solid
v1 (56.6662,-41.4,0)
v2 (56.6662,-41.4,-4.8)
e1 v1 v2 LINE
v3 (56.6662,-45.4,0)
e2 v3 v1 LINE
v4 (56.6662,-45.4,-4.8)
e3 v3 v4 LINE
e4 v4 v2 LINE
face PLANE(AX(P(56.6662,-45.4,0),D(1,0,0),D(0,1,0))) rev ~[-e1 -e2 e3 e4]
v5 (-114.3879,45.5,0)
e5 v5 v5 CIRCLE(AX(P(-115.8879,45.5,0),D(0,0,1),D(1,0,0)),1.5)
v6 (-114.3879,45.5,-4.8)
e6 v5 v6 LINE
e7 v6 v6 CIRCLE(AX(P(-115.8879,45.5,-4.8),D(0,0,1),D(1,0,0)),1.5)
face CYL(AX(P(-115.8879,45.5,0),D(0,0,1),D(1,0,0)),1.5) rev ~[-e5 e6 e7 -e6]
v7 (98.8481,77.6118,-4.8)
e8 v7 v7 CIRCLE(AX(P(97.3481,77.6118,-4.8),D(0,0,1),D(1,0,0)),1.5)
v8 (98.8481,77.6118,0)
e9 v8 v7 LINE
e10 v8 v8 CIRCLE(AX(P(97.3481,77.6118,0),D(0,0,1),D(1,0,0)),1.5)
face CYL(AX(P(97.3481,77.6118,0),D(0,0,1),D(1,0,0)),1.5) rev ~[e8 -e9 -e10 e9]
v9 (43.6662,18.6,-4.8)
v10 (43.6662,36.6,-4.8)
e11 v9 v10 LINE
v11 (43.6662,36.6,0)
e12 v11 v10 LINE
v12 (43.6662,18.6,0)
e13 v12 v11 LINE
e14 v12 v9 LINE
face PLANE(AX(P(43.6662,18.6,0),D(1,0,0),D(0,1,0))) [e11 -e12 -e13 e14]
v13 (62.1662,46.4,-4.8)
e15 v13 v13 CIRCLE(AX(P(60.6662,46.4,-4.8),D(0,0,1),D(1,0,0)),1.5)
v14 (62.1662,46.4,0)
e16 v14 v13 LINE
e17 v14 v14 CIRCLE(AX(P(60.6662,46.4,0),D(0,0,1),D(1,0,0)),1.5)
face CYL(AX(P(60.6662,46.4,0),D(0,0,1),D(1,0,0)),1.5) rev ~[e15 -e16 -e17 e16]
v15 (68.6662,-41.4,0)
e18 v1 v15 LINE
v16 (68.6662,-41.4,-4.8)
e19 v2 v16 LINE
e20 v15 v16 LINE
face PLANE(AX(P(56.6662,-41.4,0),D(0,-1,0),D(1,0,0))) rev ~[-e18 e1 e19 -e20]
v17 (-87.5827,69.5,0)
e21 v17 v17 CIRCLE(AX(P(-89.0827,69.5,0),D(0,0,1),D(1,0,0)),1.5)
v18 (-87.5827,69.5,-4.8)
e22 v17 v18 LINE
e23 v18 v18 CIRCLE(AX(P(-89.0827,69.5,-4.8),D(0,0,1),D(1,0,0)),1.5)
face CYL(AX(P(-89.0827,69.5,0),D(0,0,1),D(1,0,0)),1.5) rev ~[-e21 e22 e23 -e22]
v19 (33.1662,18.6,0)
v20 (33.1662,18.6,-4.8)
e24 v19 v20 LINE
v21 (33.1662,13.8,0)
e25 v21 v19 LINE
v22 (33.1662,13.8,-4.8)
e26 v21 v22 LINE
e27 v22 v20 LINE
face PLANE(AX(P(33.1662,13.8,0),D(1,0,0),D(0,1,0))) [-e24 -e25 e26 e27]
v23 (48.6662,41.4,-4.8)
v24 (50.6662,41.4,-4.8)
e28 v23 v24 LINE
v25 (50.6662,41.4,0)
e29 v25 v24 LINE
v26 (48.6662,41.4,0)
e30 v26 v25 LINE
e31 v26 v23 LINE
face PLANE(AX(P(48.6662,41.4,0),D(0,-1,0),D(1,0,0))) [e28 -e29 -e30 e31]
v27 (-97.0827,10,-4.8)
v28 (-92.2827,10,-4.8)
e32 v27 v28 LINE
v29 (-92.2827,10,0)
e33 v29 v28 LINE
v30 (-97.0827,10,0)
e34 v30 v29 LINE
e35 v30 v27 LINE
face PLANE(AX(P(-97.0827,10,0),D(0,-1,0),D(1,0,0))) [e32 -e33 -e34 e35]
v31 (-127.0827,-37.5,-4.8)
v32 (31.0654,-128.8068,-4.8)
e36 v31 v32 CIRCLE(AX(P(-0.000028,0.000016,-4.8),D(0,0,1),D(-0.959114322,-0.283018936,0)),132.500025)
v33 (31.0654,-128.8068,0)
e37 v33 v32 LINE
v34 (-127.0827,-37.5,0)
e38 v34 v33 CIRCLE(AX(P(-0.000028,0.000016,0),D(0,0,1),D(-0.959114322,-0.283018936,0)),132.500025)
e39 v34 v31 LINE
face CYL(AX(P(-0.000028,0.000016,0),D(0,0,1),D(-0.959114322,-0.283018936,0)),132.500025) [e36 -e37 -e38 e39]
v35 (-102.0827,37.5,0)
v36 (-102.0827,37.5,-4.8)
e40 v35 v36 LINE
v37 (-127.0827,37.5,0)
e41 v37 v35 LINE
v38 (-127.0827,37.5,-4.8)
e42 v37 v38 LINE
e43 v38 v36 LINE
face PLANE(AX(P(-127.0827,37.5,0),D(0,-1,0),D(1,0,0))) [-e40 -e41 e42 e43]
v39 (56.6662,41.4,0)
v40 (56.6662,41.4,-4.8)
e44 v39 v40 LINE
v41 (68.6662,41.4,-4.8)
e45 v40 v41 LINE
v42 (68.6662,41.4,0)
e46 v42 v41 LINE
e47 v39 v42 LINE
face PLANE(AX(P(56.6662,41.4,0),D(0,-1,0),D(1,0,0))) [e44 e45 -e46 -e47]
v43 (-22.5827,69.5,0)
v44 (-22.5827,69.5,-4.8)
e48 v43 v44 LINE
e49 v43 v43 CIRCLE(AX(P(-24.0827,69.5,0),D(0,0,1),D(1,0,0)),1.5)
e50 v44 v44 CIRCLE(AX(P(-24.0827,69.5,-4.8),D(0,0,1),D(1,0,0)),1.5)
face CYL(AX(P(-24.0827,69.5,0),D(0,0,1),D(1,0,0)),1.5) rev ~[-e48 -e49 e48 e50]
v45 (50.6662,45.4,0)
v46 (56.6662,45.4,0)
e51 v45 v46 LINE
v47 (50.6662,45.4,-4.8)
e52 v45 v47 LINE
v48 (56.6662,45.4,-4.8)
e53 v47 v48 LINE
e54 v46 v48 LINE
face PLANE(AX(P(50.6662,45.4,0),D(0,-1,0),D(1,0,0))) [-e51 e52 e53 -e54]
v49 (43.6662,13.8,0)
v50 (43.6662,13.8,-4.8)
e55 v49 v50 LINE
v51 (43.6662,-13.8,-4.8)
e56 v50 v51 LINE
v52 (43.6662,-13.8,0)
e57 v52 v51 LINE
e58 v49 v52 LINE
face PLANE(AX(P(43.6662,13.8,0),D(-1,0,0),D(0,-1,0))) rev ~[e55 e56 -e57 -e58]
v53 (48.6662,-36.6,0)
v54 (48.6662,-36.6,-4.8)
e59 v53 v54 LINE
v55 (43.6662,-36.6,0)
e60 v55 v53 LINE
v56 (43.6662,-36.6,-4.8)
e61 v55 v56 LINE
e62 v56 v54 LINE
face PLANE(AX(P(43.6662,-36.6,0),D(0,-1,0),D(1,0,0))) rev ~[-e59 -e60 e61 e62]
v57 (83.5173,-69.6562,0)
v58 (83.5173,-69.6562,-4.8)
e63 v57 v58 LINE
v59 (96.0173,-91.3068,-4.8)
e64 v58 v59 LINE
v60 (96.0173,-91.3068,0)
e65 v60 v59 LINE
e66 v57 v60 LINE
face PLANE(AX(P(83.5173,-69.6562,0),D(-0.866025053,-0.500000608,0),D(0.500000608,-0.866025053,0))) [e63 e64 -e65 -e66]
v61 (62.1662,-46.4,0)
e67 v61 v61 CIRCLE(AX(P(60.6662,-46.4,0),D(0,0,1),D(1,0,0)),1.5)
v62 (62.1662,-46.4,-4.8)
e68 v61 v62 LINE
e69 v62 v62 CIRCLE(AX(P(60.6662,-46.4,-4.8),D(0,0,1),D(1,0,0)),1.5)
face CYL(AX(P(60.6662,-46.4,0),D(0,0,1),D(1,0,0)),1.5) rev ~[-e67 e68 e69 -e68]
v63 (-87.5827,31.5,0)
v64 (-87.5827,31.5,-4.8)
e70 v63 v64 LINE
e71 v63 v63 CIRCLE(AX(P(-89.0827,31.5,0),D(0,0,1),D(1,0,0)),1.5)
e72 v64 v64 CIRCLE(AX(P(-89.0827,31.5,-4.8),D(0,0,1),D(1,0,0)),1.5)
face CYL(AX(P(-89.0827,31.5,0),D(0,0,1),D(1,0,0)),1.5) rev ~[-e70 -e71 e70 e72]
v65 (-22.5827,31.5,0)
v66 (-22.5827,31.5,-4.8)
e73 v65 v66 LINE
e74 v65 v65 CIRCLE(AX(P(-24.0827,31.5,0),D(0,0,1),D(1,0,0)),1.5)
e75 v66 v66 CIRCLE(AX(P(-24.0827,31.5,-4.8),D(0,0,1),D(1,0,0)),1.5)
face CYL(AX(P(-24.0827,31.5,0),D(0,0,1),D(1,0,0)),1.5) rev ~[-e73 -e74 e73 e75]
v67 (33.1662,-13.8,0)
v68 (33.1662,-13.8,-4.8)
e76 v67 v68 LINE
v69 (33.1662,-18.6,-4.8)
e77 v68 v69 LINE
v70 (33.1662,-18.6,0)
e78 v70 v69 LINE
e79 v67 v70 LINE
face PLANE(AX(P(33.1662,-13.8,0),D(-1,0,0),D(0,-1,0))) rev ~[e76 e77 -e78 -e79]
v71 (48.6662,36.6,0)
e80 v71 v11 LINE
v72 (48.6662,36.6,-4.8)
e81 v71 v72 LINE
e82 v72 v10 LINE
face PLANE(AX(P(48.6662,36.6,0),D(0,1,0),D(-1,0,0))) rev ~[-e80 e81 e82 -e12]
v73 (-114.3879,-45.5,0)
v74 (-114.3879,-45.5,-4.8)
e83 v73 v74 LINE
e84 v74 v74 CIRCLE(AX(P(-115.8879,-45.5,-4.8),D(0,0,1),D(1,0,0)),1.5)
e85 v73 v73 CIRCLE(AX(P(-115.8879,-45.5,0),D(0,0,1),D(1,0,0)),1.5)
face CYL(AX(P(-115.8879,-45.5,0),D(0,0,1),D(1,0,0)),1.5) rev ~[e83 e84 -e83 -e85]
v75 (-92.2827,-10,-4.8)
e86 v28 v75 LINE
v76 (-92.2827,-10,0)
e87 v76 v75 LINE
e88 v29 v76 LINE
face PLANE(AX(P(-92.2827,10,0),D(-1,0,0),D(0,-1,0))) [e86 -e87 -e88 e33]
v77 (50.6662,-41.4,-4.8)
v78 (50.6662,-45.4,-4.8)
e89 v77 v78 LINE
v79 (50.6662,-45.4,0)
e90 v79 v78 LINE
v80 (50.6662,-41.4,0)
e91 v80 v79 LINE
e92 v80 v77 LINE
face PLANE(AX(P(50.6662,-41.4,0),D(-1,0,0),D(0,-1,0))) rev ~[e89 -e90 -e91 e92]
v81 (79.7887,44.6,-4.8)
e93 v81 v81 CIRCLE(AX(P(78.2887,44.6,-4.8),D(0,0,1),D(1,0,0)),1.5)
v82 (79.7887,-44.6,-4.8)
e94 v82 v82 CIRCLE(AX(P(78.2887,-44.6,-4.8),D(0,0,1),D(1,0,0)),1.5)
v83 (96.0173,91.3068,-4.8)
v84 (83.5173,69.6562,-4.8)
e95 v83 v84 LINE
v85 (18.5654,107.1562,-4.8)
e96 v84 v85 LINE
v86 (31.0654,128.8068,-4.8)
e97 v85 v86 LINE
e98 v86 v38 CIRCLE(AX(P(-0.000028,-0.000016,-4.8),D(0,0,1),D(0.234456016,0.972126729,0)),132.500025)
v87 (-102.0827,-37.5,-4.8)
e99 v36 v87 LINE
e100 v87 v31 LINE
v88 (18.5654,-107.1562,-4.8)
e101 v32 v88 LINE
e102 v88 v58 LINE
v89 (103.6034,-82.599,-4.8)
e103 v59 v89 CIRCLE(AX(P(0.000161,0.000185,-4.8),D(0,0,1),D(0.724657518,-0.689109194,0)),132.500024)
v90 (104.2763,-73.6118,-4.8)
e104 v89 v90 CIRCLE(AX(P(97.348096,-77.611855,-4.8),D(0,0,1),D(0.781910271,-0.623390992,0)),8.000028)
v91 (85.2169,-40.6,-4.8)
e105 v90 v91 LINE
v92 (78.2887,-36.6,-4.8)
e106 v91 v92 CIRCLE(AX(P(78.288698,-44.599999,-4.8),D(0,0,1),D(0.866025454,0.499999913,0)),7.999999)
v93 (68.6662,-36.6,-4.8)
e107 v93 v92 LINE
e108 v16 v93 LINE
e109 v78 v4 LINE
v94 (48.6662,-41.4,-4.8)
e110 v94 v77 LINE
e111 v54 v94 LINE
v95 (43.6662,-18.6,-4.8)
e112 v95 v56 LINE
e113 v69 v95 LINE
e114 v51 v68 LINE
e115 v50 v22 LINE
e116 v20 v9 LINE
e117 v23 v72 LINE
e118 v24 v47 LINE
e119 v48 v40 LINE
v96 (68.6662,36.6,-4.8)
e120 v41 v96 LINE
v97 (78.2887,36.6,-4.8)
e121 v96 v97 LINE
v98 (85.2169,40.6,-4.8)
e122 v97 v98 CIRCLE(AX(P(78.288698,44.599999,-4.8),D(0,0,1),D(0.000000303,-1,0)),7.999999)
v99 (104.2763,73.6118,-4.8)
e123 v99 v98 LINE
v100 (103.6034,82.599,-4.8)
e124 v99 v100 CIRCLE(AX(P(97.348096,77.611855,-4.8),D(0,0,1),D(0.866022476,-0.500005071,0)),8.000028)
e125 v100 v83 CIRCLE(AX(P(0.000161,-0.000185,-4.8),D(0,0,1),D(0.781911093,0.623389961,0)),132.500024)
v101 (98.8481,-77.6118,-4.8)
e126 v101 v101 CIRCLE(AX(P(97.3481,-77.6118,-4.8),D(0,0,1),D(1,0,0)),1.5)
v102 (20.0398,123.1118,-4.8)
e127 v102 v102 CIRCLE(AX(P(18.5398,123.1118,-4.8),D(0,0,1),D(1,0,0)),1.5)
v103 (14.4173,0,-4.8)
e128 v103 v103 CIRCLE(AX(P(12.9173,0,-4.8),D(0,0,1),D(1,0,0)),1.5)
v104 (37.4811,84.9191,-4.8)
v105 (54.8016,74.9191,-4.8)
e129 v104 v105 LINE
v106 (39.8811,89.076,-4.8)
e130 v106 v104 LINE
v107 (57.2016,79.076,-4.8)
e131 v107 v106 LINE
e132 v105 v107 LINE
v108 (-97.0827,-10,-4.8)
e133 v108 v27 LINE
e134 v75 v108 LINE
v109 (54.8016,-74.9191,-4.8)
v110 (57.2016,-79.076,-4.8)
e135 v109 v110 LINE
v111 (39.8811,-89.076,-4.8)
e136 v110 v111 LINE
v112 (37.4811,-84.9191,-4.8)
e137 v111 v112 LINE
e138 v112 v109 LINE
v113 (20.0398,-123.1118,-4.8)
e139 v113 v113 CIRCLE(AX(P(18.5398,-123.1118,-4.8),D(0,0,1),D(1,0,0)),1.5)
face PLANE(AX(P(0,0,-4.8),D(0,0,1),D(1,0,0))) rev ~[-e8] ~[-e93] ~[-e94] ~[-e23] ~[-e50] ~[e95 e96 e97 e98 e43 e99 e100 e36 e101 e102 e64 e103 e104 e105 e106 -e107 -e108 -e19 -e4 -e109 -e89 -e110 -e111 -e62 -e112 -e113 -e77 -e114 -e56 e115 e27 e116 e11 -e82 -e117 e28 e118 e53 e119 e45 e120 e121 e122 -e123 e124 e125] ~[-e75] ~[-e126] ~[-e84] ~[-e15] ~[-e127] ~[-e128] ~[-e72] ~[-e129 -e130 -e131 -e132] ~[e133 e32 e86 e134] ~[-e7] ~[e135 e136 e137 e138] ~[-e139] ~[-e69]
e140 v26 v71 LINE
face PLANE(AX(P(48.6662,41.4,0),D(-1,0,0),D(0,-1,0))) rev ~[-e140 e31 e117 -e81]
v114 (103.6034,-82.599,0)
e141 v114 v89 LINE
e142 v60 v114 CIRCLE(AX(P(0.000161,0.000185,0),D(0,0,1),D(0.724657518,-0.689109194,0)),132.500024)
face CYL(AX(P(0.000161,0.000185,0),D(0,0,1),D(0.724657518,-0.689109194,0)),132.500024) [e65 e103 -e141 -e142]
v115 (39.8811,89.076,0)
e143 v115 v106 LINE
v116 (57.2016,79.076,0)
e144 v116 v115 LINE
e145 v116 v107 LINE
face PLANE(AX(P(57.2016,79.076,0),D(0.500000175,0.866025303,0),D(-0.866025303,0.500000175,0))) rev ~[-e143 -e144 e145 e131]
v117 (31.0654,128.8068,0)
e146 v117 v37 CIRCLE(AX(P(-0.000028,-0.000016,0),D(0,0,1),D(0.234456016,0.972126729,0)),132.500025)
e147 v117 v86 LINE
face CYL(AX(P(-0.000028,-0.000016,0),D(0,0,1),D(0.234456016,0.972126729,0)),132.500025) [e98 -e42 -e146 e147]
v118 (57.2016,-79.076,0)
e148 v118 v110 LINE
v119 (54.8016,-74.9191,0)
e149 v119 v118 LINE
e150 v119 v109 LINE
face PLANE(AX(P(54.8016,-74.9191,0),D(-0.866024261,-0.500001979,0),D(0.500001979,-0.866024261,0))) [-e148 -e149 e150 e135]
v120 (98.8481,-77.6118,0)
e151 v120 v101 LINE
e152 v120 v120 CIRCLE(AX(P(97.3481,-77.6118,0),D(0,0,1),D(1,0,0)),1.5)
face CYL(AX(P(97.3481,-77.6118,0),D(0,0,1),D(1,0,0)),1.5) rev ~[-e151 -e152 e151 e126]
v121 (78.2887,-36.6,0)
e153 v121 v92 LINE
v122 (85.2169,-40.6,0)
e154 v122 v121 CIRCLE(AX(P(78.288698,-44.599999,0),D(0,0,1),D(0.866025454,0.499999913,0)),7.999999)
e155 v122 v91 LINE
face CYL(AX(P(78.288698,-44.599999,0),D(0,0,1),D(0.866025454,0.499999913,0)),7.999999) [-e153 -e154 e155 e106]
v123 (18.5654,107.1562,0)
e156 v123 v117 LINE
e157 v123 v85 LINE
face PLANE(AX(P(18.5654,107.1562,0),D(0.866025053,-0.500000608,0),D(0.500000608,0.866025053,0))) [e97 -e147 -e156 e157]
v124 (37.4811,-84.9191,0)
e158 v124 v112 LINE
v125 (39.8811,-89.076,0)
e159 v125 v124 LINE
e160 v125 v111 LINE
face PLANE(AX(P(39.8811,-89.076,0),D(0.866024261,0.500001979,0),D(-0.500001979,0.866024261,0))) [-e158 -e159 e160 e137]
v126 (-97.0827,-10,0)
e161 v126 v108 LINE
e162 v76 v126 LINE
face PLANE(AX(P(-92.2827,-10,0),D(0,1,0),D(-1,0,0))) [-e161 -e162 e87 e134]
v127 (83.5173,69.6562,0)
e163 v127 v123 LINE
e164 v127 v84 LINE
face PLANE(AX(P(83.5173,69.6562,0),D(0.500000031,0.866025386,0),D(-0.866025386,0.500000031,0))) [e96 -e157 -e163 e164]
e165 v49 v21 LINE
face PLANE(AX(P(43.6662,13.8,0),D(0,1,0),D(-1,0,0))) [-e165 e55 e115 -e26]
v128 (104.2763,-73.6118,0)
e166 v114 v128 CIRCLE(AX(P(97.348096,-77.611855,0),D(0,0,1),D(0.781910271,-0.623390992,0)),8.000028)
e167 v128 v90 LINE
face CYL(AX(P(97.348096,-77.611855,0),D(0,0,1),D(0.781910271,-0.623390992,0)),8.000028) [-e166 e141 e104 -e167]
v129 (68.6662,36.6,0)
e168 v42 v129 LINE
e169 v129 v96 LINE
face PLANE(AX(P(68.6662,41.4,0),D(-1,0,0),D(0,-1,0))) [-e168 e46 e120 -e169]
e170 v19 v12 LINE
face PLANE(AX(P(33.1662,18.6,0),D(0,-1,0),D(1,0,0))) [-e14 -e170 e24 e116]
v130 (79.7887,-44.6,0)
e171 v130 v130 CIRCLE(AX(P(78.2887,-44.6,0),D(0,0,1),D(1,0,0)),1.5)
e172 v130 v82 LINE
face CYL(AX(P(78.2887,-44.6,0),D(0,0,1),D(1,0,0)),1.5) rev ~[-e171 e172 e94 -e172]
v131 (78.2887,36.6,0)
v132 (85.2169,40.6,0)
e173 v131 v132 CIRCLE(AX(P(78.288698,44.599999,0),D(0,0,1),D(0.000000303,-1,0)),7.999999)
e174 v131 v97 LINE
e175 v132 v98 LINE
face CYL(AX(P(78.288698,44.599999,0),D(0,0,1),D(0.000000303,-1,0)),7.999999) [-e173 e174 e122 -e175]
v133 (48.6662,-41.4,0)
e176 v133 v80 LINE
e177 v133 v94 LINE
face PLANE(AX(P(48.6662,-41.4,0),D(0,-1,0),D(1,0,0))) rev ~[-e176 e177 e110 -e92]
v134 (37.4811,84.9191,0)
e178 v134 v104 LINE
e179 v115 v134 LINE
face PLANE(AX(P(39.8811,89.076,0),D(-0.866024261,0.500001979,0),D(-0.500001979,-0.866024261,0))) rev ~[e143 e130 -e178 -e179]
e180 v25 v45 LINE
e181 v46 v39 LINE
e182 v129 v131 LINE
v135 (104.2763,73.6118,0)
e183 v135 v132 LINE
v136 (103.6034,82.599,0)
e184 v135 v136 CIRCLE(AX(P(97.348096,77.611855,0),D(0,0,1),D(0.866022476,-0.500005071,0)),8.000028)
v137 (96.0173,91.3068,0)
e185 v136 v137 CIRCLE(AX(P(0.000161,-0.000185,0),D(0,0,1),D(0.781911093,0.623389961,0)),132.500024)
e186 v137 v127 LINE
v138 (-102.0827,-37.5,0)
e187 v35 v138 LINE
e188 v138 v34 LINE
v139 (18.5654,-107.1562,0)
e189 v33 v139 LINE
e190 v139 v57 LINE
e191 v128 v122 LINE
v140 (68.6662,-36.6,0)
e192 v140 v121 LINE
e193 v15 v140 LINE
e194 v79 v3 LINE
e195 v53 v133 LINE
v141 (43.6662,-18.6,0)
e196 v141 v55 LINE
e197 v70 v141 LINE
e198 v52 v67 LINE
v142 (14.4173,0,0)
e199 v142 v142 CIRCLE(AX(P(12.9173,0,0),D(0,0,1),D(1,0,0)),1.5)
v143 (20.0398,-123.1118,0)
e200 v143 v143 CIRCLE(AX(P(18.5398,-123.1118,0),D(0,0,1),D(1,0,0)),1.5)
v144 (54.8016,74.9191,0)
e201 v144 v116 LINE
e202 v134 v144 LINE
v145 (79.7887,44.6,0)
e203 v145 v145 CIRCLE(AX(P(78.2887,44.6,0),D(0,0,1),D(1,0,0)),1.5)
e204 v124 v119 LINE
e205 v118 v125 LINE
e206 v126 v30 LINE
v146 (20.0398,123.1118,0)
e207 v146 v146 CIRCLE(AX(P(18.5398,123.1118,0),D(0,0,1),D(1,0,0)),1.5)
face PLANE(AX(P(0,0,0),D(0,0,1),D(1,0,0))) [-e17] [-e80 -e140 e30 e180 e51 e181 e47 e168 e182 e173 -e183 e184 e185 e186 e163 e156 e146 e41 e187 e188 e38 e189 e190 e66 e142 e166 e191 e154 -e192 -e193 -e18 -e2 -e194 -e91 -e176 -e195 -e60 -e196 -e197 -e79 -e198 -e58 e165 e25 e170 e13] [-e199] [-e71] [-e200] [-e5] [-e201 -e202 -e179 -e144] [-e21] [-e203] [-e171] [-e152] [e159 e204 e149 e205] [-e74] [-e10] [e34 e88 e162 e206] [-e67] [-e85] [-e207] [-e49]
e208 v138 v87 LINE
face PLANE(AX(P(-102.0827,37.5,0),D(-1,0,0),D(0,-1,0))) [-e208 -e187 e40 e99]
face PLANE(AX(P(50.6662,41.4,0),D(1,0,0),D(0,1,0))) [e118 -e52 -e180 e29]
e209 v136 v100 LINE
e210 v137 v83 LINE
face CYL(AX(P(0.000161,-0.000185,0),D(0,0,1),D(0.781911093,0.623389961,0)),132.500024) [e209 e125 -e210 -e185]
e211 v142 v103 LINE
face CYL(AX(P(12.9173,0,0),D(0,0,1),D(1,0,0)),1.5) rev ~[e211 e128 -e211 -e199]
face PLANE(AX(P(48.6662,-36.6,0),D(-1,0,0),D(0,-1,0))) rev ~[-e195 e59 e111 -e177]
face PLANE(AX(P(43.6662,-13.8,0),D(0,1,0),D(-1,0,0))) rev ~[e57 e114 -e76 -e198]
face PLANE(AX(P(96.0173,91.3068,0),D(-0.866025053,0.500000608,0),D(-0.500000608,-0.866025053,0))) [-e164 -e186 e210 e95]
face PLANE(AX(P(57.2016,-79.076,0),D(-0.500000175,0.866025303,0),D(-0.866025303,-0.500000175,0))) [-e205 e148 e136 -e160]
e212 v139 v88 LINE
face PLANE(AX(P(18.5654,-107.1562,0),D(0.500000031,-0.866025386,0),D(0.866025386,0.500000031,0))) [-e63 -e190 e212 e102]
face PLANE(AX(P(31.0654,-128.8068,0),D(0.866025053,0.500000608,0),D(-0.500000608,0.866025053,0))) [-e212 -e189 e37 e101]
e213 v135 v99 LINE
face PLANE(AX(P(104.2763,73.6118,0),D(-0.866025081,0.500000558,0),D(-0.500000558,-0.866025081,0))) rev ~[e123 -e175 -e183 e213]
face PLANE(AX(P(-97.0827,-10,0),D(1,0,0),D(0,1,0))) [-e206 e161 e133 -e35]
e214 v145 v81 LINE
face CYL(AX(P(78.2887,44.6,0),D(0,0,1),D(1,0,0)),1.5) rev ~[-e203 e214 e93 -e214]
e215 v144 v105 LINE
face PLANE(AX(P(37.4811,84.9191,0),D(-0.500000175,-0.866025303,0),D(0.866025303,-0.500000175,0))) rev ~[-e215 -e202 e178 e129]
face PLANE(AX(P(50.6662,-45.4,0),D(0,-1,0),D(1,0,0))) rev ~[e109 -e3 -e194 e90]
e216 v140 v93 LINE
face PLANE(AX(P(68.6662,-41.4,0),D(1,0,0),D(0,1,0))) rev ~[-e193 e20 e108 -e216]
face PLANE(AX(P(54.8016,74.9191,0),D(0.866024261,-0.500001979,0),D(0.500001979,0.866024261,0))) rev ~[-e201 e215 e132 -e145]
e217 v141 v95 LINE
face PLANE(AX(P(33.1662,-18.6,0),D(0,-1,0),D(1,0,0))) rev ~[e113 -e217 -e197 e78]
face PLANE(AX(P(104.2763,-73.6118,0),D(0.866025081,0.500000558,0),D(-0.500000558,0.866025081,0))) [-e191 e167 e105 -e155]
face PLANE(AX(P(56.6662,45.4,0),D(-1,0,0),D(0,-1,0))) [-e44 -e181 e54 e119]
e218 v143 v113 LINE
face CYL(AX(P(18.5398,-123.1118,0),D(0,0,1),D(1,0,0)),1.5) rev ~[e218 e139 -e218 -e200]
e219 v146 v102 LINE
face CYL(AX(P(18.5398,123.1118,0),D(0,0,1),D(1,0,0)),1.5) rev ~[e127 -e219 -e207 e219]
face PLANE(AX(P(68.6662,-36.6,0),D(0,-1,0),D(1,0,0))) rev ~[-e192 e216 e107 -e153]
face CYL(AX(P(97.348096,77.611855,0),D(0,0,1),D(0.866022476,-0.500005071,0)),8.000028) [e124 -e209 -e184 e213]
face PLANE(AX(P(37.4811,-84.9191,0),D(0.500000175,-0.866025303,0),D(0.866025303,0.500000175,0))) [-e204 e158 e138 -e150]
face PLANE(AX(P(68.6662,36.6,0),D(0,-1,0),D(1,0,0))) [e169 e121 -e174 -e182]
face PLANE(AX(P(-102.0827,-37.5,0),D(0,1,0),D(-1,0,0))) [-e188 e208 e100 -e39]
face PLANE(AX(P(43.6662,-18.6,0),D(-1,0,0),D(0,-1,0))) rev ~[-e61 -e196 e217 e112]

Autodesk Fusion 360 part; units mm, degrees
sketch "Sketch1" plane through (0, 0, 0) normal (0, 0, 1) x (1, 0, 0)
  line L0 (-127.0827, 37.5) -> (-102.0827, 37.5)
  line L1 (-102.0827, 37.5) -> (-102.0827, -37.5)
  line L2 (-102.0827, -37.5) -> (-127.0827, -37.5)
  line L3 (0, 0) -> (-132.5, 0) construction
  line L4 (-97.0827, 10) -> (-92.2827, 10)
  line L5 (-92.2827, 10) -> (-92.2827, -10)
  line L6 (-92.2827, -10) -> (-97.0827, -10)
  line L7 (-97.0827, -10) -> (-97.0827, 10)
  arc A0 (-127.0827, 37.5) -> (-132.5, 0) centre (0, 0) ccw construction
  arc A1 (-132.5, 0) -> (-127.0827, -37.5) centre (0, 0) ccw construction
  line L8 (0, 0) -> (66.25, -114.7484) construction
  line L9 (0, 0) -> (66.25, -114.7484) construction
  line L10 (31.0654, -128.8068) -> (18.5654, -107.1562)
  line L11 (18.5654, -107.1562) -> (83.5173, -69.6562)
  line L12 (83.5173, -69.6562) -> (96.0173, -91.3068)
  arc A2 (-127.0827, -37.5) -> (31.0654, -128.8068) centre (0, 0) ccw
  arc A3 (31.0654, -128.8068) -> (66.25, -114.7484) centre (0, 0) ccw construction
  line L13 (37.4811, -84.9191) -> (54.8016, -74.9191)
  line L14 (54.8016, -74.9191) -> (57.2016, -79.076)
  line L15 (57.2016, -79.076) -> (39.8811, -89.076)
  line L16 (39.8811, -89.076) -> (37.4811, -84.9191)
  line L17 (0, 0) -> (132.5, 0) construction
  line L18 (0, 0) -> (66.25, 114.7484) construction
  line L19 (96.0173, 91.3068) -> (83.5173, 69.6562)
  line L20 (83.5173, 69.6562) -> (18.5654, 107.1562)
  line L21 (18.5654, 107.1562) -> (31.0654, 128.8068)
  line L22 (57.2016, 79.076) -> (39.8811, 89.076)
  line L23 (39.8811, 89.076) -> (37.4811, 84.9191)
  line L24 (37.4811, 84.9191) -> (54.8016, 74.9191)
  line L25 (54.8016, 74.9191) -> (57.2016, 79.076)
  circle A4 centre (-115.8879, 45.5) radius 1.5
  circle A5 centre (0, 0) radius 124.5 construction
  circle A6 centre (-115.8879, -45.5) radius 1.5
  circle A7 centre (18.5398, -123.1118) radius 1.5
  circle A8 centre (97.3481, -77.6118) radius 1.5
  circle A9 centre (18.5398, 123.1118) radius 1.5
  line L26 (-102.0827, -18.5) -> (-19.0827, -18.5) construction
  line L27 (-19.0827, -18.5) -> (-19.0827, 18.5) construction
  line L28 (-19.0827, 18.5) -> (-102.0827, 18.5) construction
  line L29 (35.0199, 97.6562) -> (-6.4801, 25.7761) construction
  line L30 (-6.4801, 25.7761) -> (25.5628, 7.2761) construction
  line L31 (25.5628, 7.2761) -> (67.0628, 79.1562) construction
  line L32 (35.0199, -97.6562) -> (-6.4801, -25.7761) construction
  line L33 (-6.4801, -25.7761) -> (25.5628, -7.2761) construction
  line L34 (25.5628, -7.2761) -> (67.0628, -79.1562) construction
  line L35 (-92.0827, 72.5) -> (-21.0827, 72.5) construction
  line L36 (-21.0827, 72.5) -> (-21.0827, 28.5) construction
  line L37 (-21.0827, 28.5) -> (-92.0827, 28.5) construction
  line L38 (-92.0827, 28.5) -> (-92.0827, 72.5) construction
  circle A10 centre (-24.0827, 69.5) radius 1.5
  circle A11 centre (-89.0827, 69.5) radius 1.5
  circle A12 centre (-89.0827, 31.5) radius 1.5
  circle A13 centre (-24.0827, 31.5) radius 1.5
  arc A14 (66.25, -114.7484) -> (96.0173, -91.3068) centre (0, 0) ccw construction
  arc A15 (96.0173, 91.3068) -> (66.25, 114.7484) centre (0, 0) ccw construction
  arc A16 (31.0654, 128.8068) -> (-127.0827, 37.5) centre (0, 0) ccw
  arc A17 (66.25, 114.7484) -> (31.0654, 128.8068) centre (0, 0) ccw construction
  line L39 (125.8662, 41.4) -> (43.6662, 41.4) construction
  line L40 (43.6662, 41.4) -> (43.6662, -41.4) construction
  line L41 (43.6662, -41.4) -> (125.8662, -41.4) construction
  line L42 (43.6662, 13.8) -> (33.1662, 13.8)
  line L43 (33.1662, 13.8) -> (33.1662, 18.6)
  line L44 (33.1662, 18.6) -> (43.6662, 18.6)
  line L45 (68.6662, 36.6) -> (78.2887, 36.6)
  circle A18 centre (97.3481, 77.6118) radius 1.5
  line L46 (104.2763, 73.6118) -> (85.2169, 40.6)
  circle A19 centre (78.2887, 44.6) radius 1.5
  line L47 (43.6662, 13.8) -> (43.6662, -13.8)
  line L48 (43.6662, -13.8) -> (33.1662, -13.8)
  line L49 (33.1662, -13.8) -> (33.1662, -18.6)
  line L50 (33.1662, -18.6) -> (43.6662, -18.6)
  line L51 (68.6662, -36.6) -> (78.2887, -36.6)
  line L52 (104.2763, -73.6118) -> (85.2169, -40.6)
  circle A20 centre (78.2887, -44.6) radius 1.5
  arc A21 (132.5, 0) -> (125.8662, 41.4) centre (0, 0) ccw construction
  arc A22 (103.6034, 82.599) -> (96.0173, 91.3068) centre (0, 0) ccw
  arc A23 (106.9418, 78.2286) -> (103.6034, 82.599) centre (0, 0) ccw construction
  line L53 (106.9418, 78.2286) -> (104.2763, 73.6118) construction
  arc A24 (125.8662, 41.4) -> (106.9418, 78.2286) centre (0, 0) ccw construction
  line L54 (78.2887, 36.6) -> (82.9075, 36.6) construction
  arc A25 (85.2169, 40.6) -> (78.2887, 36.6) centre (78.2887, 44.6) ccw construction
  arc A26 (78.2887, 36.6) -> (85.2169, 40.6) centre (78.2887, 44.6) ccw
  line L55 (85.2169, 40.6) -> (82.9075, 36.6) construction
  line L56 (78.2887, -36.6) -> (82.9075, -36.6) construction
  line L57 (85.2169, -40.6) -> (82.9075, -36.6) construction
  arc A27 (78.2887, -36.6) -> (85.2169, -40.6) centre (78.2887, -44.6) ccw construction
  arc A28 (85.2169, -40.6) -> (78.2887, -36.6) centre (78.2887, -44.6) ccw
  arc A29 (96.0173, -91.3068) -> (103.6034, -82.599) centre (0, 0) ccw
  arc A30 (125.8662, -41.4) -> (132.5, 0) centre (0, 0) ccw construction
  arc A31 (106.9418, -78.2286) -> (125.8662, -41.4) centre (0, 0) ccw construction
  line L58 (106.9418, -78.2286) -> (104.2763, -73.6118) construction
  arc A32 (103.6034, -82.599) -> (106.9418, -78.2286) centre (0, 0) ccw construction
  arc A33 (104.2763, -73.6118) -> (103.6034, -82.599) centre (97.3481, -77.6118) ccw construction
  arc A34 (103.6034, -82.599) -> (104.2763, -73.6118) centre (97.3481, -77.6118) ccw
  arc A35 (103.6034, 82.599) -> (104.2763, 73.6118) centre (97.3481, 77.6118) ccw construction
  arc A36 (104.2763, 73.6118) -> (103.6034, 82.599) centre (97.3481, 77.6118) ccw
  line L59 (33.1662, 13.8) -> (33.1662, -13.8) construction
  line L60 (48.6662, 41.4) -> (48.6662, 36.6)
  line L61 (68.6662, 41.4) -> (68.6662, 36.6)
  line L62 (48.6662, 36.6) -> (43.6662, 36.6)
  line L63 (43.6662, 18.6) -> (43.6662, 36.6)
  line L64 (50.6662, 41.4) -> (50.6662, 45.4)
  line L65 (50.6662, 45.4) -> (56.6662, 45.4)
  line L66 (56.6662, 45.4) -> (56.6662, 41.4)
  circle A37 centre (60.6662, 46.4) radius 1.5
  line L67 (48.6662, 41.4) -> (50.6662, 41.4)
  line L68 (56.6662, 41.4) -> (68.6662, 41.4)
  line L69 (43.6662, -36.6) -> (48.6662, -36.6)
  line L70 (48.6662, -36.6) -> (48.6662, -41.4)
  line L71 (48.6662, -41.4) -> (50.6662, -41.4)
  line L72 (50.6662, -41.4) -> (50.6662, -45.4)
  line L73 (50.6662, -45.4) -> (56.6662, -45.4)
  line L74 (56.6662, -45.4) -> (56.6662, -41.4)
  line L75 (56.6662, -41.4) -> (68.6662, -41.4)
  line L76 (68.6662, -41.4) -> (68.6662, -36.6)
  line L77 (43.6662, -18.6) -> (43.6662, -36.6)
  circle A38 centre (60.6662, -46.4) radius 1.5
  circle A39 centre (12.9173, 0) radius 1.5
  point P0 (-102.0827, 0)
  point P1 (-97.0827, 0)
  point P2 (51.0413, -88.4062)
  point P3 (48.5413, -84.076)
  point P4 (51.0413, 88.4062)
  point P5 (48.5413, 84.076)
  point P6 (-19.0827, 0)
  point P7 (9.5413, 16.5261)
  point P8 (9.5413, -16.5261)
  point P9 (43.6662, 0)
  point P10 (53.6662, 45.4)
  point P11 (53.6662, -45.4)
  point P12 (12.9173, 0)
  dimension "d1" = 265
  dimension "d2" = 75
  dimension "d3" = 25
  dimension "d4" = 4.8
  dimension "d5" = 20
  dimension "d6" = 5
  dimension "d17" = 120
  dimension "d19" = 132.5
  dimension "d20" = 75
  dimension "d21" = 25
  dimension "d22" = 20
  dimension "d23" = 4.8
  dimension "d24" = 5
  dimension "d25" = 132.5
  dimension "d28" = 60
  dimension "d29" = 75
  dimension "d30" = 25
  dimension "d31" = 4.8
  dimension "d32" = 20
  dimension "d33" = 5
  dimension "d34" = 3
  dimension "d35" = 8
  dimension "d36" = 249
  dimension "d37" = 3
  dimension "d38" = 8
  dimension "d39" = 3
  dimension "d40" = 8
  dimension "d41" = 3
  dimension "d42" = 8
  dimension "d49" = 3
  dimension "d50" = 8
  dimension "d53" = 37
  dimension "d55" = 37
  dimension "d57" = 78
  dimension "d58" = 78
  dimension "d59" = 37
  dimension "d60" = 78
  dimension "d61" = 71
  dimension "d62" = 44
  dimension "d63" = 10
  dimension "d64" = 10
  dimension "d75" = 3
  dimension "d76" = 3
  dimension "d77" = 3
  dimension "d78" = 3
  dimension "d85" = 3
  dimension "d86" = 3
  dimension "d87" = 3
  dimension "d88" = 3
  dimension "d89" = 3
  dimension "d90" = 3
  dimension "d91" = 3
  dimension "d92" = 3
  dimension "d156" = 82.8
  dimension "d157" = 82.2
  dimension "d161" = 4.8
  dimension "d162" = 13.8
  dimension "d167" = 3
  dimension "d168" = 8
  dimension "d169" = 8
  dimension "d170" = 3
  dimension "d171" = 8
  dimension "d172" = 8
  dimension "d173" = 10.5
  dimension "d174" = 4.8
  dimension "d175" = 27.6
  dimension "d180" = 8
  dimension "d181" = 3
  dimension "d182" = 8
  dimension "d183" = 8
  dimension "d184" = 4.8
  dimension "d185" = 4.8
  dimension "d186" = 20
  dimension "d187" = 5
  dimension "d188" = 4
  dimension "d189" = 6
  dimension "d190" = 10
  dimension "d191" = 3
  dimension "d193" = 17
  dimension "d194" = 5
  dimension "d195" = 4.8
  dimension "d196" = 5
  dimension "d197" = 6
  dimension "d198" = 4
  dimension "d199" = 10
  dimension "d200" = 20
  dimension "d201" = 3
  dimension "d202" = 5
  dimension "d203" = 17
  dimension "d204" = 4.8
  dimension "d205" = 115
  dimension "d206" = 3
extrude "Extrude1" add sketch "Sketch1" against normal blind 4.8
